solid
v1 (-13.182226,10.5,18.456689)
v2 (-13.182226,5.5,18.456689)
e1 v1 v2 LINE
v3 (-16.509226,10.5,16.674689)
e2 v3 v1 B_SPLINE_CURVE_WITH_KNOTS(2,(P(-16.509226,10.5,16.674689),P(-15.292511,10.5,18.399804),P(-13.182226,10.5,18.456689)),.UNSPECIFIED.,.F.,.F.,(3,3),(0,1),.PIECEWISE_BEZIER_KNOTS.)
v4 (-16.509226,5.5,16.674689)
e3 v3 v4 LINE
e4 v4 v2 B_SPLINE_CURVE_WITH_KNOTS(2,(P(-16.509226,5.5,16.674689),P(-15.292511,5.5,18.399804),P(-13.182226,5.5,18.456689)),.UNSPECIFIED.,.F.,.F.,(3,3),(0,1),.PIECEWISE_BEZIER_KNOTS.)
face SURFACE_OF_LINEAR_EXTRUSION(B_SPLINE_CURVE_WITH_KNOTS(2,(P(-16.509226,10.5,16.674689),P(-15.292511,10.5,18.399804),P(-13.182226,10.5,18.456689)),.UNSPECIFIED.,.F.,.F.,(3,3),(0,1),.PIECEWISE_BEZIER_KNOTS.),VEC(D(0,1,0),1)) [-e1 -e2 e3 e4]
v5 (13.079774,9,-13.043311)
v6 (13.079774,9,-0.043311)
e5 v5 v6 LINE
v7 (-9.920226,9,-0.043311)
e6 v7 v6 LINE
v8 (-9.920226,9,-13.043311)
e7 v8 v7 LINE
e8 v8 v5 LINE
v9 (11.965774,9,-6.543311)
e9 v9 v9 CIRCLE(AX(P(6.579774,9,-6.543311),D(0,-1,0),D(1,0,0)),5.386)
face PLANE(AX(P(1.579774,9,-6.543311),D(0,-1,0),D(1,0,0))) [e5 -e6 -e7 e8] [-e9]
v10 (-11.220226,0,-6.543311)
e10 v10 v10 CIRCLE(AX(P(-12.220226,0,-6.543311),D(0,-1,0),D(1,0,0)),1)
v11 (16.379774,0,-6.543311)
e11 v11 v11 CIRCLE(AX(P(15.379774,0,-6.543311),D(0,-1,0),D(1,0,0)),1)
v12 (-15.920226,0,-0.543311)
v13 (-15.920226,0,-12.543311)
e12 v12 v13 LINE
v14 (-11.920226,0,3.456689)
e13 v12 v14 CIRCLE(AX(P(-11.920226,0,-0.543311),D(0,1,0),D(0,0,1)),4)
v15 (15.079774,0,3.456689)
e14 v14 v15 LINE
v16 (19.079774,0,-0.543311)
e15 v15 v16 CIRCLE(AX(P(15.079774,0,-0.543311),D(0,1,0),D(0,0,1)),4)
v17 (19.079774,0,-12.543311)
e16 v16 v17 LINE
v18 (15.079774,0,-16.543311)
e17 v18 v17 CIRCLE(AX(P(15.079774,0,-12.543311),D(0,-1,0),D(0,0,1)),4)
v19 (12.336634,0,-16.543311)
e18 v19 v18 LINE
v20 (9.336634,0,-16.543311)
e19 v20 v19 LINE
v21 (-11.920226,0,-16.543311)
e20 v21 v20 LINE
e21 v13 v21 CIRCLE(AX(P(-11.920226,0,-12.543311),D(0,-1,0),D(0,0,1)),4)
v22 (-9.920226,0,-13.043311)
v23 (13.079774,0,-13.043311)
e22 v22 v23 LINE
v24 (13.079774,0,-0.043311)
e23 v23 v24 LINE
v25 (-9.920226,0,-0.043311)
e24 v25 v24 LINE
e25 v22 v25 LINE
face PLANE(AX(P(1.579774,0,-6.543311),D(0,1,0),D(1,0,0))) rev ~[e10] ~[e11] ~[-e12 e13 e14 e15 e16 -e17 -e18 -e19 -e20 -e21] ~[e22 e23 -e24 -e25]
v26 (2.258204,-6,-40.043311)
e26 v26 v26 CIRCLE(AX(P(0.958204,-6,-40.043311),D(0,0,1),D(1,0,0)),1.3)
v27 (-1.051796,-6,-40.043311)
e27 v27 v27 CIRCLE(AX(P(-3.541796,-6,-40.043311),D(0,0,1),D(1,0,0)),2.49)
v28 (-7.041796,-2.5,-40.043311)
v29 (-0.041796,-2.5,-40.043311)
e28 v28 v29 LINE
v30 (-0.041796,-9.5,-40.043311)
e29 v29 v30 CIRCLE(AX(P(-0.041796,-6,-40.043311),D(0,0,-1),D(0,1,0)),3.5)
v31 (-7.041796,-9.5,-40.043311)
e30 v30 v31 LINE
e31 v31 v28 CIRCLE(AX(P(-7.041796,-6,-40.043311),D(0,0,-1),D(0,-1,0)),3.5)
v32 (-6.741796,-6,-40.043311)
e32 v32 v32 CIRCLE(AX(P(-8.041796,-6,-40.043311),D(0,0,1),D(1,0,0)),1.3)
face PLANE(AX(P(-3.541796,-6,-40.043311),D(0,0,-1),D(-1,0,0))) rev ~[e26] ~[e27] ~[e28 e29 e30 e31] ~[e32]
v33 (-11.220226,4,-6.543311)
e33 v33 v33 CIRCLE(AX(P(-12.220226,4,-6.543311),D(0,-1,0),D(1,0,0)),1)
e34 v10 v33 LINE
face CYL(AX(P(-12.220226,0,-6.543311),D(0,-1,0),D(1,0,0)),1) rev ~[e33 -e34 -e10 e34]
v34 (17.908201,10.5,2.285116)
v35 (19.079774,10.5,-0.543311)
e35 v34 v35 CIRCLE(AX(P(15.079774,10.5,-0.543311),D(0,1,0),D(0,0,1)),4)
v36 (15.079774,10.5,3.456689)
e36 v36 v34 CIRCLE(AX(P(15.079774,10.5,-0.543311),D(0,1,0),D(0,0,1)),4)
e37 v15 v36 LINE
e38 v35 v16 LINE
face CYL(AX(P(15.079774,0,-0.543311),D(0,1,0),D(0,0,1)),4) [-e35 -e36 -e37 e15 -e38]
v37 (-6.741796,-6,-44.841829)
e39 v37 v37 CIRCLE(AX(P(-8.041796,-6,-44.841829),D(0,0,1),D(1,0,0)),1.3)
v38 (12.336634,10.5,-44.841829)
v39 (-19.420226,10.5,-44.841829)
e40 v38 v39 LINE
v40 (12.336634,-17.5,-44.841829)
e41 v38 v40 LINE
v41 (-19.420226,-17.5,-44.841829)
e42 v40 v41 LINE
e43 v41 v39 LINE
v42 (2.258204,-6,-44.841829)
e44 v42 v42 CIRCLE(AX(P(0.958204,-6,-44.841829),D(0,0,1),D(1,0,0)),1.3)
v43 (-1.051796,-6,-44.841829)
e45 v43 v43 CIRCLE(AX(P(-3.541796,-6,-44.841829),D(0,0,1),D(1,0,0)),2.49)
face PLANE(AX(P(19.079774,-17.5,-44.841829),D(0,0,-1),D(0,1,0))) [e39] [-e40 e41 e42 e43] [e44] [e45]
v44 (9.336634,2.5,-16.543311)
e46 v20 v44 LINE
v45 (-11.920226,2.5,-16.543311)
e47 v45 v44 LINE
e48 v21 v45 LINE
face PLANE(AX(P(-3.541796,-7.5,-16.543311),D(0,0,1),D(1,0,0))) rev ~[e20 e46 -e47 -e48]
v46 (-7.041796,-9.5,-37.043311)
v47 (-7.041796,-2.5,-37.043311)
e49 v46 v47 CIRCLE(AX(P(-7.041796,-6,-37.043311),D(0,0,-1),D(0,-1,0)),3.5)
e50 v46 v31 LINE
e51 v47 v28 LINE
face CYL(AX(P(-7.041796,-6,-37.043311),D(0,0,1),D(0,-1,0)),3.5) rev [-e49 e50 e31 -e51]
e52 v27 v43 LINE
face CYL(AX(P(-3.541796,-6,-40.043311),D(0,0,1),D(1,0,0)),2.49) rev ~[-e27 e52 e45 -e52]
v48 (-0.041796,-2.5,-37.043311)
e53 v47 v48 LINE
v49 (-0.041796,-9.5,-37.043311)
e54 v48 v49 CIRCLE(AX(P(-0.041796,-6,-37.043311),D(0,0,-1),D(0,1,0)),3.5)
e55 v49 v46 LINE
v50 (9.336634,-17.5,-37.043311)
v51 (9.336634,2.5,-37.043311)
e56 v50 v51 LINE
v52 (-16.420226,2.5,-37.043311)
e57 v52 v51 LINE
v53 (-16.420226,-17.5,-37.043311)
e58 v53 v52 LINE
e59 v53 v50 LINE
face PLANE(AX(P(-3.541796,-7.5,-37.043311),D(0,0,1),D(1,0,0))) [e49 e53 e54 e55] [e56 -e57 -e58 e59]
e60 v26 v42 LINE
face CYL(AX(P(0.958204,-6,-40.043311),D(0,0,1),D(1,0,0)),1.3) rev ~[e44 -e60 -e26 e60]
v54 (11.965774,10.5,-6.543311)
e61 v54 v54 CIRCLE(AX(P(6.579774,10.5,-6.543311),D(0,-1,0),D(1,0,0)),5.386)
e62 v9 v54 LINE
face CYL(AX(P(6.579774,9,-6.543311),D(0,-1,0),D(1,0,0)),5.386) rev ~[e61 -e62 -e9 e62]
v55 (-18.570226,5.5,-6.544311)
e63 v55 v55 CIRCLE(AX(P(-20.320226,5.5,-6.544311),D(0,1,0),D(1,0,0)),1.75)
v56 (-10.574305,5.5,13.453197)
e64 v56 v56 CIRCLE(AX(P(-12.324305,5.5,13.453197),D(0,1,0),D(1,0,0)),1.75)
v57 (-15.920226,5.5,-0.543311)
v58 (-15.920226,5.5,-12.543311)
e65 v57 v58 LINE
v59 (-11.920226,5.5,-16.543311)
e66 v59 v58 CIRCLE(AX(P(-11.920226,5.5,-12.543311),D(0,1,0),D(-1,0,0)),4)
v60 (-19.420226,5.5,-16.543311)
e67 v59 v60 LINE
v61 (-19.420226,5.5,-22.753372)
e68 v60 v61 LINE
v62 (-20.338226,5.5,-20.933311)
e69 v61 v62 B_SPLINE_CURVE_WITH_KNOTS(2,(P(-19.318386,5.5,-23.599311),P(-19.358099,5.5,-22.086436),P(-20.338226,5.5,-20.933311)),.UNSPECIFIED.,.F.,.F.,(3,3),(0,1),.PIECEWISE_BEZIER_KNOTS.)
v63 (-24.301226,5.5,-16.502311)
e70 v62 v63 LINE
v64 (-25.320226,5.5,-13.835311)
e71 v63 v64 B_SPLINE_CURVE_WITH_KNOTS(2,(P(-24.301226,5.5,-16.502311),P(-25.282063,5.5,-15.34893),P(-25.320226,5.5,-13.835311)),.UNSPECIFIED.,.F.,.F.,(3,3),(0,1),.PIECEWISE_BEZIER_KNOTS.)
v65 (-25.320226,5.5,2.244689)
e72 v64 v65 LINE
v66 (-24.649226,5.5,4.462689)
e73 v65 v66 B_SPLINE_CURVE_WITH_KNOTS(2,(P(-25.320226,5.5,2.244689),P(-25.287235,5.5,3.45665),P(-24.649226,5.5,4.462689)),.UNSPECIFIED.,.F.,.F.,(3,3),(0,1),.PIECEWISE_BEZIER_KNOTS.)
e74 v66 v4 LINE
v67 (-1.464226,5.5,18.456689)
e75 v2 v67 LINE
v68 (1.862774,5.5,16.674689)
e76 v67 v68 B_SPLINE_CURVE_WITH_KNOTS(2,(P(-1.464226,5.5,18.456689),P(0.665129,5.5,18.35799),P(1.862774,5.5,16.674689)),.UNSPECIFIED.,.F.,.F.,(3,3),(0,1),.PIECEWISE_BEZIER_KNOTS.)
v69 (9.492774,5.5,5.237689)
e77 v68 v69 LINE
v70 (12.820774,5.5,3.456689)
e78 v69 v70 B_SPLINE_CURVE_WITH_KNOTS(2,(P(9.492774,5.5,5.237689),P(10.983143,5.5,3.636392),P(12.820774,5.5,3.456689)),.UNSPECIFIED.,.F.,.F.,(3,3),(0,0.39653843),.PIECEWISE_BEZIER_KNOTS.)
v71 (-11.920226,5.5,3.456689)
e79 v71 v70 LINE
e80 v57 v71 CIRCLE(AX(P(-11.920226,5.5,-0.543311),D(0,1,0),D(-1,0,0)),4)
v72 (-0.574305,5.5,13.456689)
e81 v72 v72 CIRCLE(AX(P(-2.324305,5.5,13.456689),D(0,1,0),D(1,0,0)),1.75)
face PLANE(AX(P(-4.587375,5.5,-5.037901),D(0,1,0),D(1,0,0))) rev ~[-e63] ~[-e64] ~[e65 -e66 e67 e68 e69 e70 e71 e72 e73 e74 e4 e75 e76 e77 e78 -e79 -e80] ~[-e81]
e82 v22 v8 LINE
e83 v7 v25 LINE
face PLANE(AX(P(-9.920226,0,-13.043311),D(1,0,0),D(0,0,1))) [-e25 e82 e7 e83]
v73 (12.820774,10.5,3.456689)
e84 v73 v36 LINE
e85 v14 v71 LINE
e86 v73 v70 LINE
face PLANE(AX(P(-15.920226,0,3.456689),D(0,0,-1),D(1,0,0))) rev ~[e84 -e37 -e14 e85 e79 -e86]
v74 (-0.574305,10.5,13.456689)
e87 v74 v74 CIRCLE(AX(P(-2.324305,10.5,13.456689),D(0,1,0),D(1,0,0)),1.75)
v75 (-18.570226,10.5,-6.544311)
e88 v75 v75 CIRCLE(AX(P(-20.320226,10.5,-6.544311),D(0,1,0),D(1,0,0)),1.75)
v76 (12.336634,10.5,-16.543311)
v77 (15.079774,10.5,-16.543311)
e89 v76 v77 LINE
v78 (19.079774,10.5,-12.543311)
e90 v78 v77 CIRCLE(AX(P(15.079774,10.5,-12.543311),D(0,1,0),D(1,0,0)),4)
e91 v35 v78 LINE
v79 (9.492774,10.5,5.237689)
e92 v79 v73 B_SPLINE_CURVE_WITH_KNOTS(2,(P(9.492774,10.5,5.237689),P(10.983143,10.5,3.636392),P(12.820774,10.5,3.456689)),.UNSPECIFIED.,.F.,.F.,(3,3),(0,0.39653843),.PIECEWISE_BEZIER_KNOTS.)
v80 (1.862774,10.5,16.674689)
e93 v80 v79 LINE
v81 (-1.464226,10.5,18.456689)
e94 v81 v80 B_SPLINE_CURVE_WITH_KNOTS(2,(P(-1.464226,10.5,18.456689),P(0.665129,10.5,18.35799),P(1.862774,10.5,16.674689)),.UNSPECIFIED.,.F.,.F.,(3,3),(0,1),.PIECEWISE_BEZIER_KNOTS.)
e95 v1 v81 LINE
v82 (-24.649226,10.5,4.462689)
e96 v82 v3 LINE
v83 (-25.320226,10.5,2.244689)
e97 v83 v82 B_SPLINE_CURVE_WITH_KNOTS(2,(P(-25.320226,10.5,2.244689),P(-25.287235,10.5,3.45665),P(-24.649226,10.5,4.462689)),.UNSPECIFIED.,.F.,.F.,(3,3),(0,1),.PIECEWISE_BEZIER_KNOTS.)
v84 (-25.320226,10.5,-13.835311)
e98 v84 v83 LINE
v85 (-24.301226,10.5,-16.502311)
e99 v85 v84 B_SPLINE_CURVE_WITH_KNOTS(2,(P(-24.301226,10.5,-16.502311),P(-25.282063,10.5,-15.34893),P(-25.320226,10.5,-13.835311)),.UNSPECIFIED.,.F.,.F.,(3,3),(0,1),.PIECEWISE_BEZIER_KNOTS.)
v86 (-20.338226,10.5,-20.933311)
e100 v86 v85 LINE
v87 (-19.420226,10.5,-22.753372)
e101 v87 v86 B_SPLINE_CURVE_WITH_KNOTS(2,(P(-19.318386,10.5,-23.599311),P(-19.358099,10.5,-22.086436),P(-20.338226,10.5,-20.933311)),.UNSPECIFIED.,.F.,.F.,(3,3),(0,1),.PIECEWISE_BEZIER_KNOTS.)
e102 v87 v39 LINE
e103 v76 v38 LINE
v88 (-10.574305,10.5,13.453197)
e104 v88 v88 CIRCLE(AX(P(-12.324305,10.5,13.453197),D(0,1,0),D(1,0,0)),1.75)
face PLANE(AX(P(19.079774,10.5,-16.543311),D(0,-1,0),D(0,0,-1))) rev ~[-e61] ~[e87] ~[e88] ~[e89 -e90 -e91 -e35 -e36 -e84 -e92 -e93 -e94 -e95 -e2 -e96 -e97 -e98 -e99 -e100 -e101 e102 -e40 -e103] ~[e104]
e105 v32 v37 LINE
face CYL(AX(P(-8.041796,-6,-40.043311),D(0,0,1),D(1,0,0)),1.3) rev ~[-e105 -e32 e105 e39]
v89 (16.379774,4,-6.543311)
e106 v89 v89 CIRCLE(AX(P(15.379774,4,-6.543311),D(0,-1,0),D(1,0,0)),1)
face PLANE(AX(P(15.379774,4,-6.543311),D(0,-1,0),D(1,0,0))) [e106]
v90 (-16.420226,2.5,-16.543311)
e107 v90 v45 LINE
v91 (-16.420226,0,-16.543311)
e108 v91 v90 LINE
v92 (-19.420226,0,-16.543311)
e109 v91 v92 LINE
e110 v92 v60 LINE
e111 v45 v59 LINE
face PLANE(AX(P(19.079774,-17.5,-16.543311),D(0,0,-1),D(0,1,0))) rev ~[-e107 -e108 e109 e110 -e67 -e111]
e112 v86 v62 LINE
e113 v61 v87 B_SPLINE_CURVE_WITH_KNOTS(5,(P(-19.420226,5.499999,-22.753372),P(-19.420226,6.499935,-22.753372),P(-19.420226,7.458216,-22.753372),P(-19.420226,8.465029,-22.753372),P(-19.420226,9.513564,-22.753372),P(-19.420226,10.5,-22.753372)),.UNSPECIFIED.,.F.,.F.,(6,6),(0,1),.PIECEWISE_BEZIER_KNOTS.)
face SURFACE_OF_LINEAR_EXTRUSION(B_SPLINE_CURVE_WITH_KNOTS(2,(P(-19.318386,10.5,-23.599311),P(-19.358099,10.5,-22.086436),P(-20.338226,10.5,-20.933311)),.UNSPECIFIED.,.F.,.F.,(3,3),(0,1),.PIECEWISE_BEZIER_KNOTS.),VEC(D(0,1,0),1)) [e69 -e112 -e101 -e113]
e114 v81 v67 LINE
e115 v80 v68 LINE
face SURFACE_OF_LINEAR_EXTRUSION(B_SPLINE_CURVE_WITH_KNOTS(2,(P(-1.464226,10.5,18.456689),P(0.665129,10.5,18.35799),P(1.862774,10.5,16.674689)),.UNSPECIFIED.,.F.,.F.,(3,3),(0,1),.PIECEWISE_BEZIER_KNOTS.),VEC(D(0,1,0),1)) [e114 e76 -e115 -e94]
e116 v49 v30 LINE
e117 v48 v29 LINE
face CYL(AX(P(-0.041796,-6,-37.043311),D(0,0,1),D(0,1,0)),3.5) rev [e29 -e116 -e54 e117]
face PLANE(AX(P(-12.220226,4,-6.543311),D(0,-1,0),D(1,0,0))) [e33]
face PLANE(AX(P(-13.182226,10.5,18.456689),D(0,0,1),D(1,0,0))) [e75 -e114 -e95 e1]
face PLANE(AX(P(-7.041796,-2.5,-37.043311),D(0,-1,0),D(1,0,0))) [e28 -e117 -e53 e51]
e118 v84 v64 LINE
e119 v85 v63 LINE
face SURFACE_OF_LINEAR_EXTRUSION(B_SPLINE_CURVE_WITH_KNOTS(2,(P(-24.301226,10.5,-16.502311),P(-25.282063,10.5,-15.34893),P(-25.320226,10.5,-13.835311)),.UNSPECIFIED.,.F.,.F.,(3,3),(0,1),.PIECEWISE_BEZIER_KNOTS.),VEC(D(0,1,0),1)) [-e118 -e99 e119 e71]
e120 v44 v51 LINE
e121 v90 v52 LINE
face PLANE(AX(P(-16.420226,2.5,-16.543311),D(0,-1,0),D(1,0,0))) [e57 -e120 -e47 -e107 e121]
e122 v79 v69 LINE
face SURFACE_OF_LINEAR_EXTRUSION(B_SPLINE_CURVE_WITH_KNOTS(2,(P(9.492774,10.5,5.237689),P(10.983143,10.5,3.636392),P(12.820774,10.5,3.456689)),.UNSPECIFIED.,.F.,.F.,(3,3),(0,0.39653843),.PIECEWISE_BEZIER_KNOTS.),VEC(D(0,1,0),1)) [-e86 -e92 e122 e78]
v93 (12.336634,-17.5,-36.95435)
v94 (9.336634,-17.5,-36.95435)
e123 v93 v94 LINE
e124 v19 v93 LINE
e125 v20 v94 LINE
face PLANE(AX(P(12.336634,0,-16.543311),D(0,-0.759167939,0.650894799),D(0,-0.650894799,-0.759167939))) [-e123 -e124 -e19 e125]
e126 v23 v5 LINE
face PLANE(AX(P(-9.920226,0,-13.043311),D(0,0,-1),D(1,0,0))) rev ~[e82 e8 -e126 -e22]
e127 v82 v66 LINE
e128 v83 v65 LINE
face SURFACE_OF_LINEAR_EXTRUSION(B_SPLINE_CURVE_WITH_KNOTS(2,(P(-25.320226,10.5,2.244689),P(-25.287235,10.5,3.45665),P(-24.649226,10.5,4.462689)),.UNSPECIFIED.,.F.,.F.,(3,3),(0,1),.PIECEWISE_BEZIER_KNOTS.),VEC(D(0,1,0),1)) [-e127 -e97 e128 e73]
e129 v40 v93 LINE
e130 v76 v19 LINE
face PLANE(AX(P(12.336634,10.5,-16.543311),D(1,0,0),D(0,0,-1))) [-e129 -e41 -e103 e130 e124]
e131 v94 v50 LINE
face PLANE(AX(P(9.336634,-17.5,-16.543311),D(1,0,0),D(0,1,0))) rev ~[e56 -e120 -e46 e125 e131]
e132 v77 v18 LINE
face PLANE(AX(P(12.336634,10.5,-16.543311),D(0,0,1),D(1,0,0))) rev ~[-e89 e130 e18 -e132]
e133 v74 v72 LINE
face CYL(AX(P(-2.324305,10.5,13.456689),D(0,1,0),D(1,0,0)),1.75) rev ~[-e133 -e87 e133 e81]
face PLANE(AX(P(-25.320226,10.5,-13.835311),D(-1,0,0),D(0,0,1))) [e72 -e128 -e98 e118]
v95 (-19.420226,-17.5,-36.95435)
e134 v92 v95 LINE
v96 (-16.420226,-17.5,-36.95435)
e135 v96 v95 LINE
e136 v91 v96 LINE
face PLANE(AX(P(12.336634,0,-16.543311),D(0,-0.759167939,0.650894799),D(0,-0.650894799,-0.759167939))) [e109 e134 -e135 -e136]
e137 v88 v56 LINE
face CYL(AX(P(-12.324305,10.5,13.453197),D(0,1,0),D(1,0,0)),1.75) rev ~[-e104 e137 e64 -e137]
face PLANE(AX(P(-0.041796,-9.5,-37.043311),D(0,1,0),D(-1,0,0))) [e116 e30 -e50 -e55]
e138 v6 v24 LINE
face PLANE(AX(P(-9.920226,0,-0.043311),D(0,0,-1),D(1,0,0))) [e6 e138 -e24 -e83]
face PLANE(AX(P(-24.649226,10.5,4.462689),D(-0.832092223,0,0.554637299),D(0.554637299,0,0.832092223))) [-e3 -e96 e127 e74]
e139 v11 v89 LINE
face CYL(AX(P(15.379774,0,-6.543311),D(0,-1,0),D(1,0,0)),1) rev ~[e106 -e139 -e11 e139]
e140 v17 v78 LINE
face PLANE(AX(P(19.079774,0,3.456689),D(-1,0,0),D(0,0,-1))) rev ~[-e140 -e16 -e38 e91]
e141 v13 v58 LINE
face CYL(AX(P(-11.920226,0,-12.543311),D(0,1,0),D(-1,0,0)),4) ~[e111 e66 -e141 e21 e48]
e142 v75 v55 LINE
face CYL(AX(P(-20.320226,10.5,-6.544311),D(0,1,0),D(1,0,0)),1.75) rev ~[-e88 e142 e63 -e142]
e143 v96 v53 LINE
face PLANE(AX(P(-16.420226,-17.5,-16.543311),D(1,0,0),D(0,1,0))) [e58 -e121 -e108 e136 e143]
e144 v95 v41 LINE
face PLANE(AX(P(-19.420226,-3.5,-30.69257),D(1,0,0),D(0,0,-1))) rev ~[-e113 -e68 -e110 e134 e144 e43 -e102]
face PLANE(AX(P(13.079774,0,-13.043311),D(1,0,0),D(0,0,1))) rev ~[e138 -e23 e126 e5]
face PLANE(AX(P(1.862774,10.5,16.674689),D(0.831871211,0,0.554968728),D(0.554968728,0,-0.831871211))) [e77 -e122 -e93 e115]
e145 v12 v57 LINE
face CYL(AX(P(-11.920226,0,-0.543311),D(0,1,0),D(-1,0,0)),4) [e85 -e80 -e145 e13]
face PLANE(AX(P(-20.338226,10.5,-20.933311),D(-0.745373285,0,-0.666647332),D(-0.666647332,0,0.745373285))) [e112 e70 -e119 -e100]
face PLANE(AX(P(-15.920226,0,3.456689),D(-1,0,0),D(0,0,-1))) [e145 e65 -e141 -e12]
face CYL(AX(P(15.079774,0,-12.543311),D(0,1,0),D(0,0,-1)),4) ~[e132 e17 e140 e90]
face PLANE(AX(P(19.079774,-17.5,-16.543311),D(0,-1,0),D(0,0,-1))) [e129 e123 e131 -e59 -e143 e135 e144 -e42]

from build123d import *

# Parameters (mm, degrees)
CROQUIS2_W              = 35
CROQUIS2_H              = 20
SALIENTE_EXTRUIR1_DEPTH = 10.5
CROQUIS3_W              = 23
CROQUIS3_H              = 13
CORTAR_EXTRUIR1_DEPTH   = 9
CROQUIS4_R              = 1
CORTAR_EXTRUIR2_DEPTH   = 4
CROQUIS5_R              = 5.386
CORTAR_EXTRUIR3_DEPTH   = 4
REDONDEO1_R             = 4
SALIENTE_EXTRUIR2_DEPTH = 5
CROQUIS13_W             = 23
CROQUIS13_H             = 13
CORTAR_EXTRUIR4_DEPTH   = 9
CORTAR_EXTRUIR5_REACH   = 3.5
CROQUIS14_R             = 5.386
CORTAR_EXTRUIR6_REACH   = 12.5
CROQUIS15_R             = 1.75
CROQUIS17_W             = 28.298517207
CROQUIS17_H             = 28
SALIENTE_EXTRUIR5_DEPTH = 38.5
CROQUIS18_W             = 6.74314
CROQUIS18_H             = 28.298517207
CORTAR_EXTRUIR7_DEPTH   = 38.5
CROQUIS19_W             = 25.75686
CROQUIS19_H             = 20
CORTAR_EXTRUIR8_DEPTH   = 20.5
CORTAR_EXTRUIR9_DEPTH   = 3
CROQUIS21_R             = 2.49
CROQUIS21_R_2           = 1.3
CORTAR_EXTRUIR10_DEPTH  = 5
CORTAR_EXTRUIR11_DEPTH  = 32


with BuildPart() as part:
    # Croquis2 → Saliente-Extruir1 (new body)
    with BuildSketch(Plane(origin=(0, 0, 0), x_dir=(1, 0, 0), z_dir=(0, 1, 0))):
        with Locations((1.579773814, 6.543311496)):
            Rectangle(CROQUIS2_W, CROQUIS2_H)
    extrude(amount=SALIENTE_EXTRUIR1_DEPTH)

    # Croquis3 → Cortar-Extruir1 (cut)
    with BuildSketch(Plane.XZ):
        with Locations((1.579773814, -6.543311496)):
            Rectangle(CROQUIS3_W, CROQUIS3_H)
    extrude(amount=-CORTAR_EXTRUIR1_DEPTH, mode=Mode.SUBTRACT)

    # Croquis4 → Cortar-Extruir2 (cut)
    with BuildSketch(Plane.XZ):
        with Locations((-12.220226186, -6.543311496)):
            Circle(CROQUIS4_R)
        with Locations((15.379773814, -6.543311496)):
            Circle(CROQUIS4_R)
    extrude(amount=-CORTAR_EXTRUIR2_DEPTH, mode=Mode.SUBTRACT)

    # Croquis5 → Cortar-Extruir3 (cut)
    with BuildSketch(Plane.XZ.offset(-9)):
        with Locations((6.579773814, -6.543311496)):
            Circle(CROQUIS5_R)
    extrude(amount=-CORTAR_EXTRUIR3_DEPTH, mode=Mode.SUBTRACT)

    # Redondeo1
    redondeo1_edges = [part.edges().sort_by_distance(p)[0] for p in [
        (-15.920226186, 5.25, -16.543311496),
        (19.079773814, 5.25, -16.543311496),
        (19.079773814, 5.25, 3.456688504),
        (-15.920226186, 5.25, 3.456688504),
    ]]
    fillet(redondeo1_edges, radius=REDONDEO1_R)

    # Croquis9 → Saliente-Extruir2 (add)
    with BuildSketch(Plane(origin=(0, 10.5, 0), x_dir=(1, 0, 0), z_dir=(0, 1, 0))):
        with BuildLine():
            Line((15.079773814, 16.543311496), (12.336633814, 16.543311496))
            add(Edge.make_bspline(
                [(12.336633814, 16.543311496), (10.698610232, 16.587808838), (9.508613814, 17.714311496)],
                knots=[0, 0, 0, 1, 1, 1], degree=2))
            Line((9.508613814, 17.714311496), (1.852613814, 25.371311496))
            add(Edge.make_bspline(
                [(1.852613814, 25.371311496), (0.662441449, 26.497382931), (-0.975386186, 26.543311496)],
                knots=[0, 0, 0, 1, 1, 1], degree=2))
            Line((-0.975386186, 26.543311496), (-19.318386186, 26.543311496))
            Line((-19.318386186, 26.543311496), (-19.318386186, 23.599311496))
            add(Edge.make_bspline(
                [(-19.318386186, 23.599311496), (-19.358098596, 22.086435901), (-20.338226186, 20.933311496)],
                knots=[0, 0, 0, 1, 1, 1], degree=2))
            Line((-20.338226186, 20.933311496), (-24.301226186, 16.502311496))
            add(Edge.make_bspline(
                [(-24.301226186, 16.502311496), (-25.282063001, 15.348930114), (-25.320226186, 13.835311496)],
                knots=[0, 0, 0, 1, 1, 1], degree=2))
            Line((-25.320226186, 13.835311496), (-25.320226186, -2.244688504))
            add(Edge.make_bspline(
                [(-25.320226186, -2.244688504), (-25.287234994, -3.456650155), (-24.649226186, -4.462688504)],
                knots=[0, 0, 0, 1, 1, 1], degree=2))
            Line((-24.649226186, -4.462688504), (-16.509226186, -16.674688504))
            add(Edge.make_bspline(
                [(-16.509226186, -16.674688504), (-15.292510612, -18.399803974), (-13.182226186, -18.456688504)],
                knots=[0, 0, 0, 1, 1, 1], degree=2))
            Line((-13.182226186, -18.456688504), (-1.464226186, -18.456688504))
            add(Edge.make_bspline(
                [(-1.464226186, -18.456688504), (0.665129481, -18.357989688), (1.862773814, -16.674688504)],
                knots=[0, 0, 0, 1, 1, 1], degree=2))
            Line((1.862773814, -16.674688504), (9.492773814, -5.237688504))
            add(Edge.make_bspline(
                [(9.492773814, -5.237688504), (10.98314296, -3.636391936), (12.820773814, -3.456688504)],
                knots=[0, 0, 0, 0.39653843, 0.39653843, 0.39653843], degree=2))
            Line((12.820773814, -3.456688504), (15.079773814, -3.456688504))
            add(Edge.make_bspline(
                [(15.079773814, -3.456688504), (18.736628063, -3.113542754), (19.079773814, 0.543311496)],
                knots=[0, 0, 0, 1, 1, 1], degree=2))
            Line((19.079773814, 0.543311496), (19.079773814, 12.543311496))
            add(Edge.make_bspline(
                [(15.079773814, 16.543311496), (18.736628063, 16.200165745), (19.079773814, 12.543311496)],
                knots=[0, 0, 0, 1, 1, 1], degree=2))
        make_face()
    extrude(amount=-SALIENTE_EXTRUIR2_DEPTH)

    # Croquis13 → Cortar-Extruir4 (cut)
    with BuildSketch(Plane.XZ):
        with Locations((1.579773814, -6.543311496)):
            Rectangle(CROQUIS13_W, CROQUIS13_H)
    extrude(amount=-CORTAR_EXTRUIR4_DEPTH, mode=Mode.SUBTRACT)

    # Croquis14 → Cortar-Extruir5 (cut, up to next)
    with BuildSketch(Plane.XZ.offset(-9), mode=Mode.PRIVATE) as cortar_extruir5_sk1:
        with Locations((6.579773814, -6.543311496)):
            Circle(CROQUIS14_R)
    cortar_extruir5_tool1 = extrude(cortar_extruir5_sk1.sketch, amount=-CORTAR_EXTRUIR5_REACH, mode=Mode.PRIVATE) & part.part
    add(cortar_extruir5_tool1.solids().sort_by_distance((6.579774, 9, -6.543311))[0], mode=Mode.SUBTRACT)

    # Croquis15 → Cortar-Extruir6 (cut, up to next)
    with BuildSketch(Plane(origin=(0, 10.5, 0), x_dir=(1, 0, 0), z_dir=(0, 1, 0)), mode=Mode.PRIVATE) as cortar_extruir6_sk1:
        with Locations((-20.320226186, 6.544311496)):
            Circle(CROQUIS15_R)
    cortar_extruir6_tool1 = extrude(cortar_extruir6_sk1.sketch, amount=-CORTAR_EXTRUIR6_REACH, mode=Mode.PRIVATE) & part.part
    add(cortar_extruir6_tool1.solids().sort_by_distance((-20.320226, 10.5, -6.544311))[0], mode=Mode.SUBTRACT)
    # Croquis15 → Cortar-Extruir6 (cut, up to next)
    with BuildSketch(Plane(origin=(0, 10.5, 0), x_dir=(1, 0, 0), z_dir=(0, 1, 0)), mode=Mode.PRIVATE) as cortar_extruir6_sk2:
        with Locations((-12.324304765, -13.453196841)):
            Circle(CROQUIS15_R)
    cortar_extruir6_tool2 = extrude(cortar_extruir6_sk2.sketch, amount=-CORTAR_EXTRUIR6_REACH, mode=Mode.PRIVATE) & part.part
    add(cortar_extruir6_tool2.solids().sort_by_distance((-12.324305, 10.5, 13.453197))[0], mode=Mode.SUBTRACT)
    # Croquis15 → Cortar-Extruir6 (cut, up to next)
    with BuildSketch(Plane(origin=(0, 10.5, 0), x_dir=(1, 0, 0), z_dir=(0, 1, 0)), mode=Mode.PRIVATE) as cortar_extruir6_sk3:
        with Locations((-2.324305375, -13.456688504)):
            Circle(CROQUIS15_R)
    cortar_extruir6_tool3 = extrude(cortar_extruir6_sk3.sketch, amount=-CORTAR_EXTRUIR6_REACH, mode=Mode.PRIVATE) & part.part
    add(cortar_extruir6_tool3.solids().sort_by_distance((-2.324305, 10.5, 13.456689))[0], mode=Mode.SUBTRACT)

    # Croquis17 → Saliente-Extruir5 (add)
    with BuildSketch(Plane(origin=(19.079773814, 0, 0), x_dir=(0, 0, -1), z_dir=(1, 0, 0))):
        with Locations((30.6925701, -3.5)):
            Rectangle(CROQUIS17_W, CROQUIS17_H)
    extrude(amount=-SALIENTE_EXTRUIR5_DEPTH)

    # Croquis18 → Cortar-Extruir7 (cut)
    with BuildSketch(Plane(origin=(0, 10.5, 0), x_dir=(1, 0, 0), z_dir=(0, 1, 0))):
        with Locations((15.708203814, 30.6925701)):
            Rectangle(CROQUIS18_W, CROQUIS18_H)
    extrude(amount=-CORTAR_EXTRUIR7_DEPTH, mode=Mode.SUBTRACT)

    # Croquis19 → Cortar-Extruir8 (cut)
    with BuildSketch(Plane.XY.offset(-16.543311496)):
        with Locations((-3.541796186, -7.5)):
            Rectangle(CROQUIS19_W, CROQUIS19_H)
    extrude(amount=-CORTAR_EXTRUIR8_DEPTH, mode=Mode.SUBTRACT)

    # Croquis20 → Cortar-Extruir9 (cut)
    with BuildSketch(Plane.XY.offset(-37.043311496)):
        with BuildLine():
            Line((-7.041796186, -2.5), (-0.041796186, -2.5))
            ThreePointArc((-0.041796186, -2.5), (3.458203814, -6), (-0.041796186, -9.5))
            Line((-0.041796186, -9.5), (-7.041796186, -9.5))
            ThreePointArc((-7.041796186, -9.5), (-10.541796186, -6), (-7.041796186, -2.5))
        make_face()
    extrude(amount=-CORTAR_EXTRUIR9_DEPTH, mode=Mode.SUBTRACT)

    # Croquis21 → Cortar-Extruir10 (cut)
    with BuildSketch(Plane.XY.offset(-40.043311496)):
        with Locations((-3.541796186, -6)):
            Circle(CROQUIS21_R)
        with Locations((-8.041796186, -6)):
            Circle(CROQUIS21_R_2)
        with Locations((0.958203814, -6)):
            Circle(CROQUIS21_R_2)
    extrude(amount=-CORTAR_EXTRUIR10_DEPTH, mode=Mode.SUBTRACT)

    # Croquis22 → Cortar-Extruir11 (cut)
    with BuildSketch(Plane(origin=(12.336633814, 0, 0), x_dir=(0, 0, -1), z_dir=(1, 0, 0))):
        Polygon((16.543311496, 0), (36.954350191, -17.5), (16.543311496, -17.5), align=None)
    extrude(amount=-CORTAR_EXTRUIR11_DEPTH, mode=Mode.SUBTRACT)


solid = part.part
